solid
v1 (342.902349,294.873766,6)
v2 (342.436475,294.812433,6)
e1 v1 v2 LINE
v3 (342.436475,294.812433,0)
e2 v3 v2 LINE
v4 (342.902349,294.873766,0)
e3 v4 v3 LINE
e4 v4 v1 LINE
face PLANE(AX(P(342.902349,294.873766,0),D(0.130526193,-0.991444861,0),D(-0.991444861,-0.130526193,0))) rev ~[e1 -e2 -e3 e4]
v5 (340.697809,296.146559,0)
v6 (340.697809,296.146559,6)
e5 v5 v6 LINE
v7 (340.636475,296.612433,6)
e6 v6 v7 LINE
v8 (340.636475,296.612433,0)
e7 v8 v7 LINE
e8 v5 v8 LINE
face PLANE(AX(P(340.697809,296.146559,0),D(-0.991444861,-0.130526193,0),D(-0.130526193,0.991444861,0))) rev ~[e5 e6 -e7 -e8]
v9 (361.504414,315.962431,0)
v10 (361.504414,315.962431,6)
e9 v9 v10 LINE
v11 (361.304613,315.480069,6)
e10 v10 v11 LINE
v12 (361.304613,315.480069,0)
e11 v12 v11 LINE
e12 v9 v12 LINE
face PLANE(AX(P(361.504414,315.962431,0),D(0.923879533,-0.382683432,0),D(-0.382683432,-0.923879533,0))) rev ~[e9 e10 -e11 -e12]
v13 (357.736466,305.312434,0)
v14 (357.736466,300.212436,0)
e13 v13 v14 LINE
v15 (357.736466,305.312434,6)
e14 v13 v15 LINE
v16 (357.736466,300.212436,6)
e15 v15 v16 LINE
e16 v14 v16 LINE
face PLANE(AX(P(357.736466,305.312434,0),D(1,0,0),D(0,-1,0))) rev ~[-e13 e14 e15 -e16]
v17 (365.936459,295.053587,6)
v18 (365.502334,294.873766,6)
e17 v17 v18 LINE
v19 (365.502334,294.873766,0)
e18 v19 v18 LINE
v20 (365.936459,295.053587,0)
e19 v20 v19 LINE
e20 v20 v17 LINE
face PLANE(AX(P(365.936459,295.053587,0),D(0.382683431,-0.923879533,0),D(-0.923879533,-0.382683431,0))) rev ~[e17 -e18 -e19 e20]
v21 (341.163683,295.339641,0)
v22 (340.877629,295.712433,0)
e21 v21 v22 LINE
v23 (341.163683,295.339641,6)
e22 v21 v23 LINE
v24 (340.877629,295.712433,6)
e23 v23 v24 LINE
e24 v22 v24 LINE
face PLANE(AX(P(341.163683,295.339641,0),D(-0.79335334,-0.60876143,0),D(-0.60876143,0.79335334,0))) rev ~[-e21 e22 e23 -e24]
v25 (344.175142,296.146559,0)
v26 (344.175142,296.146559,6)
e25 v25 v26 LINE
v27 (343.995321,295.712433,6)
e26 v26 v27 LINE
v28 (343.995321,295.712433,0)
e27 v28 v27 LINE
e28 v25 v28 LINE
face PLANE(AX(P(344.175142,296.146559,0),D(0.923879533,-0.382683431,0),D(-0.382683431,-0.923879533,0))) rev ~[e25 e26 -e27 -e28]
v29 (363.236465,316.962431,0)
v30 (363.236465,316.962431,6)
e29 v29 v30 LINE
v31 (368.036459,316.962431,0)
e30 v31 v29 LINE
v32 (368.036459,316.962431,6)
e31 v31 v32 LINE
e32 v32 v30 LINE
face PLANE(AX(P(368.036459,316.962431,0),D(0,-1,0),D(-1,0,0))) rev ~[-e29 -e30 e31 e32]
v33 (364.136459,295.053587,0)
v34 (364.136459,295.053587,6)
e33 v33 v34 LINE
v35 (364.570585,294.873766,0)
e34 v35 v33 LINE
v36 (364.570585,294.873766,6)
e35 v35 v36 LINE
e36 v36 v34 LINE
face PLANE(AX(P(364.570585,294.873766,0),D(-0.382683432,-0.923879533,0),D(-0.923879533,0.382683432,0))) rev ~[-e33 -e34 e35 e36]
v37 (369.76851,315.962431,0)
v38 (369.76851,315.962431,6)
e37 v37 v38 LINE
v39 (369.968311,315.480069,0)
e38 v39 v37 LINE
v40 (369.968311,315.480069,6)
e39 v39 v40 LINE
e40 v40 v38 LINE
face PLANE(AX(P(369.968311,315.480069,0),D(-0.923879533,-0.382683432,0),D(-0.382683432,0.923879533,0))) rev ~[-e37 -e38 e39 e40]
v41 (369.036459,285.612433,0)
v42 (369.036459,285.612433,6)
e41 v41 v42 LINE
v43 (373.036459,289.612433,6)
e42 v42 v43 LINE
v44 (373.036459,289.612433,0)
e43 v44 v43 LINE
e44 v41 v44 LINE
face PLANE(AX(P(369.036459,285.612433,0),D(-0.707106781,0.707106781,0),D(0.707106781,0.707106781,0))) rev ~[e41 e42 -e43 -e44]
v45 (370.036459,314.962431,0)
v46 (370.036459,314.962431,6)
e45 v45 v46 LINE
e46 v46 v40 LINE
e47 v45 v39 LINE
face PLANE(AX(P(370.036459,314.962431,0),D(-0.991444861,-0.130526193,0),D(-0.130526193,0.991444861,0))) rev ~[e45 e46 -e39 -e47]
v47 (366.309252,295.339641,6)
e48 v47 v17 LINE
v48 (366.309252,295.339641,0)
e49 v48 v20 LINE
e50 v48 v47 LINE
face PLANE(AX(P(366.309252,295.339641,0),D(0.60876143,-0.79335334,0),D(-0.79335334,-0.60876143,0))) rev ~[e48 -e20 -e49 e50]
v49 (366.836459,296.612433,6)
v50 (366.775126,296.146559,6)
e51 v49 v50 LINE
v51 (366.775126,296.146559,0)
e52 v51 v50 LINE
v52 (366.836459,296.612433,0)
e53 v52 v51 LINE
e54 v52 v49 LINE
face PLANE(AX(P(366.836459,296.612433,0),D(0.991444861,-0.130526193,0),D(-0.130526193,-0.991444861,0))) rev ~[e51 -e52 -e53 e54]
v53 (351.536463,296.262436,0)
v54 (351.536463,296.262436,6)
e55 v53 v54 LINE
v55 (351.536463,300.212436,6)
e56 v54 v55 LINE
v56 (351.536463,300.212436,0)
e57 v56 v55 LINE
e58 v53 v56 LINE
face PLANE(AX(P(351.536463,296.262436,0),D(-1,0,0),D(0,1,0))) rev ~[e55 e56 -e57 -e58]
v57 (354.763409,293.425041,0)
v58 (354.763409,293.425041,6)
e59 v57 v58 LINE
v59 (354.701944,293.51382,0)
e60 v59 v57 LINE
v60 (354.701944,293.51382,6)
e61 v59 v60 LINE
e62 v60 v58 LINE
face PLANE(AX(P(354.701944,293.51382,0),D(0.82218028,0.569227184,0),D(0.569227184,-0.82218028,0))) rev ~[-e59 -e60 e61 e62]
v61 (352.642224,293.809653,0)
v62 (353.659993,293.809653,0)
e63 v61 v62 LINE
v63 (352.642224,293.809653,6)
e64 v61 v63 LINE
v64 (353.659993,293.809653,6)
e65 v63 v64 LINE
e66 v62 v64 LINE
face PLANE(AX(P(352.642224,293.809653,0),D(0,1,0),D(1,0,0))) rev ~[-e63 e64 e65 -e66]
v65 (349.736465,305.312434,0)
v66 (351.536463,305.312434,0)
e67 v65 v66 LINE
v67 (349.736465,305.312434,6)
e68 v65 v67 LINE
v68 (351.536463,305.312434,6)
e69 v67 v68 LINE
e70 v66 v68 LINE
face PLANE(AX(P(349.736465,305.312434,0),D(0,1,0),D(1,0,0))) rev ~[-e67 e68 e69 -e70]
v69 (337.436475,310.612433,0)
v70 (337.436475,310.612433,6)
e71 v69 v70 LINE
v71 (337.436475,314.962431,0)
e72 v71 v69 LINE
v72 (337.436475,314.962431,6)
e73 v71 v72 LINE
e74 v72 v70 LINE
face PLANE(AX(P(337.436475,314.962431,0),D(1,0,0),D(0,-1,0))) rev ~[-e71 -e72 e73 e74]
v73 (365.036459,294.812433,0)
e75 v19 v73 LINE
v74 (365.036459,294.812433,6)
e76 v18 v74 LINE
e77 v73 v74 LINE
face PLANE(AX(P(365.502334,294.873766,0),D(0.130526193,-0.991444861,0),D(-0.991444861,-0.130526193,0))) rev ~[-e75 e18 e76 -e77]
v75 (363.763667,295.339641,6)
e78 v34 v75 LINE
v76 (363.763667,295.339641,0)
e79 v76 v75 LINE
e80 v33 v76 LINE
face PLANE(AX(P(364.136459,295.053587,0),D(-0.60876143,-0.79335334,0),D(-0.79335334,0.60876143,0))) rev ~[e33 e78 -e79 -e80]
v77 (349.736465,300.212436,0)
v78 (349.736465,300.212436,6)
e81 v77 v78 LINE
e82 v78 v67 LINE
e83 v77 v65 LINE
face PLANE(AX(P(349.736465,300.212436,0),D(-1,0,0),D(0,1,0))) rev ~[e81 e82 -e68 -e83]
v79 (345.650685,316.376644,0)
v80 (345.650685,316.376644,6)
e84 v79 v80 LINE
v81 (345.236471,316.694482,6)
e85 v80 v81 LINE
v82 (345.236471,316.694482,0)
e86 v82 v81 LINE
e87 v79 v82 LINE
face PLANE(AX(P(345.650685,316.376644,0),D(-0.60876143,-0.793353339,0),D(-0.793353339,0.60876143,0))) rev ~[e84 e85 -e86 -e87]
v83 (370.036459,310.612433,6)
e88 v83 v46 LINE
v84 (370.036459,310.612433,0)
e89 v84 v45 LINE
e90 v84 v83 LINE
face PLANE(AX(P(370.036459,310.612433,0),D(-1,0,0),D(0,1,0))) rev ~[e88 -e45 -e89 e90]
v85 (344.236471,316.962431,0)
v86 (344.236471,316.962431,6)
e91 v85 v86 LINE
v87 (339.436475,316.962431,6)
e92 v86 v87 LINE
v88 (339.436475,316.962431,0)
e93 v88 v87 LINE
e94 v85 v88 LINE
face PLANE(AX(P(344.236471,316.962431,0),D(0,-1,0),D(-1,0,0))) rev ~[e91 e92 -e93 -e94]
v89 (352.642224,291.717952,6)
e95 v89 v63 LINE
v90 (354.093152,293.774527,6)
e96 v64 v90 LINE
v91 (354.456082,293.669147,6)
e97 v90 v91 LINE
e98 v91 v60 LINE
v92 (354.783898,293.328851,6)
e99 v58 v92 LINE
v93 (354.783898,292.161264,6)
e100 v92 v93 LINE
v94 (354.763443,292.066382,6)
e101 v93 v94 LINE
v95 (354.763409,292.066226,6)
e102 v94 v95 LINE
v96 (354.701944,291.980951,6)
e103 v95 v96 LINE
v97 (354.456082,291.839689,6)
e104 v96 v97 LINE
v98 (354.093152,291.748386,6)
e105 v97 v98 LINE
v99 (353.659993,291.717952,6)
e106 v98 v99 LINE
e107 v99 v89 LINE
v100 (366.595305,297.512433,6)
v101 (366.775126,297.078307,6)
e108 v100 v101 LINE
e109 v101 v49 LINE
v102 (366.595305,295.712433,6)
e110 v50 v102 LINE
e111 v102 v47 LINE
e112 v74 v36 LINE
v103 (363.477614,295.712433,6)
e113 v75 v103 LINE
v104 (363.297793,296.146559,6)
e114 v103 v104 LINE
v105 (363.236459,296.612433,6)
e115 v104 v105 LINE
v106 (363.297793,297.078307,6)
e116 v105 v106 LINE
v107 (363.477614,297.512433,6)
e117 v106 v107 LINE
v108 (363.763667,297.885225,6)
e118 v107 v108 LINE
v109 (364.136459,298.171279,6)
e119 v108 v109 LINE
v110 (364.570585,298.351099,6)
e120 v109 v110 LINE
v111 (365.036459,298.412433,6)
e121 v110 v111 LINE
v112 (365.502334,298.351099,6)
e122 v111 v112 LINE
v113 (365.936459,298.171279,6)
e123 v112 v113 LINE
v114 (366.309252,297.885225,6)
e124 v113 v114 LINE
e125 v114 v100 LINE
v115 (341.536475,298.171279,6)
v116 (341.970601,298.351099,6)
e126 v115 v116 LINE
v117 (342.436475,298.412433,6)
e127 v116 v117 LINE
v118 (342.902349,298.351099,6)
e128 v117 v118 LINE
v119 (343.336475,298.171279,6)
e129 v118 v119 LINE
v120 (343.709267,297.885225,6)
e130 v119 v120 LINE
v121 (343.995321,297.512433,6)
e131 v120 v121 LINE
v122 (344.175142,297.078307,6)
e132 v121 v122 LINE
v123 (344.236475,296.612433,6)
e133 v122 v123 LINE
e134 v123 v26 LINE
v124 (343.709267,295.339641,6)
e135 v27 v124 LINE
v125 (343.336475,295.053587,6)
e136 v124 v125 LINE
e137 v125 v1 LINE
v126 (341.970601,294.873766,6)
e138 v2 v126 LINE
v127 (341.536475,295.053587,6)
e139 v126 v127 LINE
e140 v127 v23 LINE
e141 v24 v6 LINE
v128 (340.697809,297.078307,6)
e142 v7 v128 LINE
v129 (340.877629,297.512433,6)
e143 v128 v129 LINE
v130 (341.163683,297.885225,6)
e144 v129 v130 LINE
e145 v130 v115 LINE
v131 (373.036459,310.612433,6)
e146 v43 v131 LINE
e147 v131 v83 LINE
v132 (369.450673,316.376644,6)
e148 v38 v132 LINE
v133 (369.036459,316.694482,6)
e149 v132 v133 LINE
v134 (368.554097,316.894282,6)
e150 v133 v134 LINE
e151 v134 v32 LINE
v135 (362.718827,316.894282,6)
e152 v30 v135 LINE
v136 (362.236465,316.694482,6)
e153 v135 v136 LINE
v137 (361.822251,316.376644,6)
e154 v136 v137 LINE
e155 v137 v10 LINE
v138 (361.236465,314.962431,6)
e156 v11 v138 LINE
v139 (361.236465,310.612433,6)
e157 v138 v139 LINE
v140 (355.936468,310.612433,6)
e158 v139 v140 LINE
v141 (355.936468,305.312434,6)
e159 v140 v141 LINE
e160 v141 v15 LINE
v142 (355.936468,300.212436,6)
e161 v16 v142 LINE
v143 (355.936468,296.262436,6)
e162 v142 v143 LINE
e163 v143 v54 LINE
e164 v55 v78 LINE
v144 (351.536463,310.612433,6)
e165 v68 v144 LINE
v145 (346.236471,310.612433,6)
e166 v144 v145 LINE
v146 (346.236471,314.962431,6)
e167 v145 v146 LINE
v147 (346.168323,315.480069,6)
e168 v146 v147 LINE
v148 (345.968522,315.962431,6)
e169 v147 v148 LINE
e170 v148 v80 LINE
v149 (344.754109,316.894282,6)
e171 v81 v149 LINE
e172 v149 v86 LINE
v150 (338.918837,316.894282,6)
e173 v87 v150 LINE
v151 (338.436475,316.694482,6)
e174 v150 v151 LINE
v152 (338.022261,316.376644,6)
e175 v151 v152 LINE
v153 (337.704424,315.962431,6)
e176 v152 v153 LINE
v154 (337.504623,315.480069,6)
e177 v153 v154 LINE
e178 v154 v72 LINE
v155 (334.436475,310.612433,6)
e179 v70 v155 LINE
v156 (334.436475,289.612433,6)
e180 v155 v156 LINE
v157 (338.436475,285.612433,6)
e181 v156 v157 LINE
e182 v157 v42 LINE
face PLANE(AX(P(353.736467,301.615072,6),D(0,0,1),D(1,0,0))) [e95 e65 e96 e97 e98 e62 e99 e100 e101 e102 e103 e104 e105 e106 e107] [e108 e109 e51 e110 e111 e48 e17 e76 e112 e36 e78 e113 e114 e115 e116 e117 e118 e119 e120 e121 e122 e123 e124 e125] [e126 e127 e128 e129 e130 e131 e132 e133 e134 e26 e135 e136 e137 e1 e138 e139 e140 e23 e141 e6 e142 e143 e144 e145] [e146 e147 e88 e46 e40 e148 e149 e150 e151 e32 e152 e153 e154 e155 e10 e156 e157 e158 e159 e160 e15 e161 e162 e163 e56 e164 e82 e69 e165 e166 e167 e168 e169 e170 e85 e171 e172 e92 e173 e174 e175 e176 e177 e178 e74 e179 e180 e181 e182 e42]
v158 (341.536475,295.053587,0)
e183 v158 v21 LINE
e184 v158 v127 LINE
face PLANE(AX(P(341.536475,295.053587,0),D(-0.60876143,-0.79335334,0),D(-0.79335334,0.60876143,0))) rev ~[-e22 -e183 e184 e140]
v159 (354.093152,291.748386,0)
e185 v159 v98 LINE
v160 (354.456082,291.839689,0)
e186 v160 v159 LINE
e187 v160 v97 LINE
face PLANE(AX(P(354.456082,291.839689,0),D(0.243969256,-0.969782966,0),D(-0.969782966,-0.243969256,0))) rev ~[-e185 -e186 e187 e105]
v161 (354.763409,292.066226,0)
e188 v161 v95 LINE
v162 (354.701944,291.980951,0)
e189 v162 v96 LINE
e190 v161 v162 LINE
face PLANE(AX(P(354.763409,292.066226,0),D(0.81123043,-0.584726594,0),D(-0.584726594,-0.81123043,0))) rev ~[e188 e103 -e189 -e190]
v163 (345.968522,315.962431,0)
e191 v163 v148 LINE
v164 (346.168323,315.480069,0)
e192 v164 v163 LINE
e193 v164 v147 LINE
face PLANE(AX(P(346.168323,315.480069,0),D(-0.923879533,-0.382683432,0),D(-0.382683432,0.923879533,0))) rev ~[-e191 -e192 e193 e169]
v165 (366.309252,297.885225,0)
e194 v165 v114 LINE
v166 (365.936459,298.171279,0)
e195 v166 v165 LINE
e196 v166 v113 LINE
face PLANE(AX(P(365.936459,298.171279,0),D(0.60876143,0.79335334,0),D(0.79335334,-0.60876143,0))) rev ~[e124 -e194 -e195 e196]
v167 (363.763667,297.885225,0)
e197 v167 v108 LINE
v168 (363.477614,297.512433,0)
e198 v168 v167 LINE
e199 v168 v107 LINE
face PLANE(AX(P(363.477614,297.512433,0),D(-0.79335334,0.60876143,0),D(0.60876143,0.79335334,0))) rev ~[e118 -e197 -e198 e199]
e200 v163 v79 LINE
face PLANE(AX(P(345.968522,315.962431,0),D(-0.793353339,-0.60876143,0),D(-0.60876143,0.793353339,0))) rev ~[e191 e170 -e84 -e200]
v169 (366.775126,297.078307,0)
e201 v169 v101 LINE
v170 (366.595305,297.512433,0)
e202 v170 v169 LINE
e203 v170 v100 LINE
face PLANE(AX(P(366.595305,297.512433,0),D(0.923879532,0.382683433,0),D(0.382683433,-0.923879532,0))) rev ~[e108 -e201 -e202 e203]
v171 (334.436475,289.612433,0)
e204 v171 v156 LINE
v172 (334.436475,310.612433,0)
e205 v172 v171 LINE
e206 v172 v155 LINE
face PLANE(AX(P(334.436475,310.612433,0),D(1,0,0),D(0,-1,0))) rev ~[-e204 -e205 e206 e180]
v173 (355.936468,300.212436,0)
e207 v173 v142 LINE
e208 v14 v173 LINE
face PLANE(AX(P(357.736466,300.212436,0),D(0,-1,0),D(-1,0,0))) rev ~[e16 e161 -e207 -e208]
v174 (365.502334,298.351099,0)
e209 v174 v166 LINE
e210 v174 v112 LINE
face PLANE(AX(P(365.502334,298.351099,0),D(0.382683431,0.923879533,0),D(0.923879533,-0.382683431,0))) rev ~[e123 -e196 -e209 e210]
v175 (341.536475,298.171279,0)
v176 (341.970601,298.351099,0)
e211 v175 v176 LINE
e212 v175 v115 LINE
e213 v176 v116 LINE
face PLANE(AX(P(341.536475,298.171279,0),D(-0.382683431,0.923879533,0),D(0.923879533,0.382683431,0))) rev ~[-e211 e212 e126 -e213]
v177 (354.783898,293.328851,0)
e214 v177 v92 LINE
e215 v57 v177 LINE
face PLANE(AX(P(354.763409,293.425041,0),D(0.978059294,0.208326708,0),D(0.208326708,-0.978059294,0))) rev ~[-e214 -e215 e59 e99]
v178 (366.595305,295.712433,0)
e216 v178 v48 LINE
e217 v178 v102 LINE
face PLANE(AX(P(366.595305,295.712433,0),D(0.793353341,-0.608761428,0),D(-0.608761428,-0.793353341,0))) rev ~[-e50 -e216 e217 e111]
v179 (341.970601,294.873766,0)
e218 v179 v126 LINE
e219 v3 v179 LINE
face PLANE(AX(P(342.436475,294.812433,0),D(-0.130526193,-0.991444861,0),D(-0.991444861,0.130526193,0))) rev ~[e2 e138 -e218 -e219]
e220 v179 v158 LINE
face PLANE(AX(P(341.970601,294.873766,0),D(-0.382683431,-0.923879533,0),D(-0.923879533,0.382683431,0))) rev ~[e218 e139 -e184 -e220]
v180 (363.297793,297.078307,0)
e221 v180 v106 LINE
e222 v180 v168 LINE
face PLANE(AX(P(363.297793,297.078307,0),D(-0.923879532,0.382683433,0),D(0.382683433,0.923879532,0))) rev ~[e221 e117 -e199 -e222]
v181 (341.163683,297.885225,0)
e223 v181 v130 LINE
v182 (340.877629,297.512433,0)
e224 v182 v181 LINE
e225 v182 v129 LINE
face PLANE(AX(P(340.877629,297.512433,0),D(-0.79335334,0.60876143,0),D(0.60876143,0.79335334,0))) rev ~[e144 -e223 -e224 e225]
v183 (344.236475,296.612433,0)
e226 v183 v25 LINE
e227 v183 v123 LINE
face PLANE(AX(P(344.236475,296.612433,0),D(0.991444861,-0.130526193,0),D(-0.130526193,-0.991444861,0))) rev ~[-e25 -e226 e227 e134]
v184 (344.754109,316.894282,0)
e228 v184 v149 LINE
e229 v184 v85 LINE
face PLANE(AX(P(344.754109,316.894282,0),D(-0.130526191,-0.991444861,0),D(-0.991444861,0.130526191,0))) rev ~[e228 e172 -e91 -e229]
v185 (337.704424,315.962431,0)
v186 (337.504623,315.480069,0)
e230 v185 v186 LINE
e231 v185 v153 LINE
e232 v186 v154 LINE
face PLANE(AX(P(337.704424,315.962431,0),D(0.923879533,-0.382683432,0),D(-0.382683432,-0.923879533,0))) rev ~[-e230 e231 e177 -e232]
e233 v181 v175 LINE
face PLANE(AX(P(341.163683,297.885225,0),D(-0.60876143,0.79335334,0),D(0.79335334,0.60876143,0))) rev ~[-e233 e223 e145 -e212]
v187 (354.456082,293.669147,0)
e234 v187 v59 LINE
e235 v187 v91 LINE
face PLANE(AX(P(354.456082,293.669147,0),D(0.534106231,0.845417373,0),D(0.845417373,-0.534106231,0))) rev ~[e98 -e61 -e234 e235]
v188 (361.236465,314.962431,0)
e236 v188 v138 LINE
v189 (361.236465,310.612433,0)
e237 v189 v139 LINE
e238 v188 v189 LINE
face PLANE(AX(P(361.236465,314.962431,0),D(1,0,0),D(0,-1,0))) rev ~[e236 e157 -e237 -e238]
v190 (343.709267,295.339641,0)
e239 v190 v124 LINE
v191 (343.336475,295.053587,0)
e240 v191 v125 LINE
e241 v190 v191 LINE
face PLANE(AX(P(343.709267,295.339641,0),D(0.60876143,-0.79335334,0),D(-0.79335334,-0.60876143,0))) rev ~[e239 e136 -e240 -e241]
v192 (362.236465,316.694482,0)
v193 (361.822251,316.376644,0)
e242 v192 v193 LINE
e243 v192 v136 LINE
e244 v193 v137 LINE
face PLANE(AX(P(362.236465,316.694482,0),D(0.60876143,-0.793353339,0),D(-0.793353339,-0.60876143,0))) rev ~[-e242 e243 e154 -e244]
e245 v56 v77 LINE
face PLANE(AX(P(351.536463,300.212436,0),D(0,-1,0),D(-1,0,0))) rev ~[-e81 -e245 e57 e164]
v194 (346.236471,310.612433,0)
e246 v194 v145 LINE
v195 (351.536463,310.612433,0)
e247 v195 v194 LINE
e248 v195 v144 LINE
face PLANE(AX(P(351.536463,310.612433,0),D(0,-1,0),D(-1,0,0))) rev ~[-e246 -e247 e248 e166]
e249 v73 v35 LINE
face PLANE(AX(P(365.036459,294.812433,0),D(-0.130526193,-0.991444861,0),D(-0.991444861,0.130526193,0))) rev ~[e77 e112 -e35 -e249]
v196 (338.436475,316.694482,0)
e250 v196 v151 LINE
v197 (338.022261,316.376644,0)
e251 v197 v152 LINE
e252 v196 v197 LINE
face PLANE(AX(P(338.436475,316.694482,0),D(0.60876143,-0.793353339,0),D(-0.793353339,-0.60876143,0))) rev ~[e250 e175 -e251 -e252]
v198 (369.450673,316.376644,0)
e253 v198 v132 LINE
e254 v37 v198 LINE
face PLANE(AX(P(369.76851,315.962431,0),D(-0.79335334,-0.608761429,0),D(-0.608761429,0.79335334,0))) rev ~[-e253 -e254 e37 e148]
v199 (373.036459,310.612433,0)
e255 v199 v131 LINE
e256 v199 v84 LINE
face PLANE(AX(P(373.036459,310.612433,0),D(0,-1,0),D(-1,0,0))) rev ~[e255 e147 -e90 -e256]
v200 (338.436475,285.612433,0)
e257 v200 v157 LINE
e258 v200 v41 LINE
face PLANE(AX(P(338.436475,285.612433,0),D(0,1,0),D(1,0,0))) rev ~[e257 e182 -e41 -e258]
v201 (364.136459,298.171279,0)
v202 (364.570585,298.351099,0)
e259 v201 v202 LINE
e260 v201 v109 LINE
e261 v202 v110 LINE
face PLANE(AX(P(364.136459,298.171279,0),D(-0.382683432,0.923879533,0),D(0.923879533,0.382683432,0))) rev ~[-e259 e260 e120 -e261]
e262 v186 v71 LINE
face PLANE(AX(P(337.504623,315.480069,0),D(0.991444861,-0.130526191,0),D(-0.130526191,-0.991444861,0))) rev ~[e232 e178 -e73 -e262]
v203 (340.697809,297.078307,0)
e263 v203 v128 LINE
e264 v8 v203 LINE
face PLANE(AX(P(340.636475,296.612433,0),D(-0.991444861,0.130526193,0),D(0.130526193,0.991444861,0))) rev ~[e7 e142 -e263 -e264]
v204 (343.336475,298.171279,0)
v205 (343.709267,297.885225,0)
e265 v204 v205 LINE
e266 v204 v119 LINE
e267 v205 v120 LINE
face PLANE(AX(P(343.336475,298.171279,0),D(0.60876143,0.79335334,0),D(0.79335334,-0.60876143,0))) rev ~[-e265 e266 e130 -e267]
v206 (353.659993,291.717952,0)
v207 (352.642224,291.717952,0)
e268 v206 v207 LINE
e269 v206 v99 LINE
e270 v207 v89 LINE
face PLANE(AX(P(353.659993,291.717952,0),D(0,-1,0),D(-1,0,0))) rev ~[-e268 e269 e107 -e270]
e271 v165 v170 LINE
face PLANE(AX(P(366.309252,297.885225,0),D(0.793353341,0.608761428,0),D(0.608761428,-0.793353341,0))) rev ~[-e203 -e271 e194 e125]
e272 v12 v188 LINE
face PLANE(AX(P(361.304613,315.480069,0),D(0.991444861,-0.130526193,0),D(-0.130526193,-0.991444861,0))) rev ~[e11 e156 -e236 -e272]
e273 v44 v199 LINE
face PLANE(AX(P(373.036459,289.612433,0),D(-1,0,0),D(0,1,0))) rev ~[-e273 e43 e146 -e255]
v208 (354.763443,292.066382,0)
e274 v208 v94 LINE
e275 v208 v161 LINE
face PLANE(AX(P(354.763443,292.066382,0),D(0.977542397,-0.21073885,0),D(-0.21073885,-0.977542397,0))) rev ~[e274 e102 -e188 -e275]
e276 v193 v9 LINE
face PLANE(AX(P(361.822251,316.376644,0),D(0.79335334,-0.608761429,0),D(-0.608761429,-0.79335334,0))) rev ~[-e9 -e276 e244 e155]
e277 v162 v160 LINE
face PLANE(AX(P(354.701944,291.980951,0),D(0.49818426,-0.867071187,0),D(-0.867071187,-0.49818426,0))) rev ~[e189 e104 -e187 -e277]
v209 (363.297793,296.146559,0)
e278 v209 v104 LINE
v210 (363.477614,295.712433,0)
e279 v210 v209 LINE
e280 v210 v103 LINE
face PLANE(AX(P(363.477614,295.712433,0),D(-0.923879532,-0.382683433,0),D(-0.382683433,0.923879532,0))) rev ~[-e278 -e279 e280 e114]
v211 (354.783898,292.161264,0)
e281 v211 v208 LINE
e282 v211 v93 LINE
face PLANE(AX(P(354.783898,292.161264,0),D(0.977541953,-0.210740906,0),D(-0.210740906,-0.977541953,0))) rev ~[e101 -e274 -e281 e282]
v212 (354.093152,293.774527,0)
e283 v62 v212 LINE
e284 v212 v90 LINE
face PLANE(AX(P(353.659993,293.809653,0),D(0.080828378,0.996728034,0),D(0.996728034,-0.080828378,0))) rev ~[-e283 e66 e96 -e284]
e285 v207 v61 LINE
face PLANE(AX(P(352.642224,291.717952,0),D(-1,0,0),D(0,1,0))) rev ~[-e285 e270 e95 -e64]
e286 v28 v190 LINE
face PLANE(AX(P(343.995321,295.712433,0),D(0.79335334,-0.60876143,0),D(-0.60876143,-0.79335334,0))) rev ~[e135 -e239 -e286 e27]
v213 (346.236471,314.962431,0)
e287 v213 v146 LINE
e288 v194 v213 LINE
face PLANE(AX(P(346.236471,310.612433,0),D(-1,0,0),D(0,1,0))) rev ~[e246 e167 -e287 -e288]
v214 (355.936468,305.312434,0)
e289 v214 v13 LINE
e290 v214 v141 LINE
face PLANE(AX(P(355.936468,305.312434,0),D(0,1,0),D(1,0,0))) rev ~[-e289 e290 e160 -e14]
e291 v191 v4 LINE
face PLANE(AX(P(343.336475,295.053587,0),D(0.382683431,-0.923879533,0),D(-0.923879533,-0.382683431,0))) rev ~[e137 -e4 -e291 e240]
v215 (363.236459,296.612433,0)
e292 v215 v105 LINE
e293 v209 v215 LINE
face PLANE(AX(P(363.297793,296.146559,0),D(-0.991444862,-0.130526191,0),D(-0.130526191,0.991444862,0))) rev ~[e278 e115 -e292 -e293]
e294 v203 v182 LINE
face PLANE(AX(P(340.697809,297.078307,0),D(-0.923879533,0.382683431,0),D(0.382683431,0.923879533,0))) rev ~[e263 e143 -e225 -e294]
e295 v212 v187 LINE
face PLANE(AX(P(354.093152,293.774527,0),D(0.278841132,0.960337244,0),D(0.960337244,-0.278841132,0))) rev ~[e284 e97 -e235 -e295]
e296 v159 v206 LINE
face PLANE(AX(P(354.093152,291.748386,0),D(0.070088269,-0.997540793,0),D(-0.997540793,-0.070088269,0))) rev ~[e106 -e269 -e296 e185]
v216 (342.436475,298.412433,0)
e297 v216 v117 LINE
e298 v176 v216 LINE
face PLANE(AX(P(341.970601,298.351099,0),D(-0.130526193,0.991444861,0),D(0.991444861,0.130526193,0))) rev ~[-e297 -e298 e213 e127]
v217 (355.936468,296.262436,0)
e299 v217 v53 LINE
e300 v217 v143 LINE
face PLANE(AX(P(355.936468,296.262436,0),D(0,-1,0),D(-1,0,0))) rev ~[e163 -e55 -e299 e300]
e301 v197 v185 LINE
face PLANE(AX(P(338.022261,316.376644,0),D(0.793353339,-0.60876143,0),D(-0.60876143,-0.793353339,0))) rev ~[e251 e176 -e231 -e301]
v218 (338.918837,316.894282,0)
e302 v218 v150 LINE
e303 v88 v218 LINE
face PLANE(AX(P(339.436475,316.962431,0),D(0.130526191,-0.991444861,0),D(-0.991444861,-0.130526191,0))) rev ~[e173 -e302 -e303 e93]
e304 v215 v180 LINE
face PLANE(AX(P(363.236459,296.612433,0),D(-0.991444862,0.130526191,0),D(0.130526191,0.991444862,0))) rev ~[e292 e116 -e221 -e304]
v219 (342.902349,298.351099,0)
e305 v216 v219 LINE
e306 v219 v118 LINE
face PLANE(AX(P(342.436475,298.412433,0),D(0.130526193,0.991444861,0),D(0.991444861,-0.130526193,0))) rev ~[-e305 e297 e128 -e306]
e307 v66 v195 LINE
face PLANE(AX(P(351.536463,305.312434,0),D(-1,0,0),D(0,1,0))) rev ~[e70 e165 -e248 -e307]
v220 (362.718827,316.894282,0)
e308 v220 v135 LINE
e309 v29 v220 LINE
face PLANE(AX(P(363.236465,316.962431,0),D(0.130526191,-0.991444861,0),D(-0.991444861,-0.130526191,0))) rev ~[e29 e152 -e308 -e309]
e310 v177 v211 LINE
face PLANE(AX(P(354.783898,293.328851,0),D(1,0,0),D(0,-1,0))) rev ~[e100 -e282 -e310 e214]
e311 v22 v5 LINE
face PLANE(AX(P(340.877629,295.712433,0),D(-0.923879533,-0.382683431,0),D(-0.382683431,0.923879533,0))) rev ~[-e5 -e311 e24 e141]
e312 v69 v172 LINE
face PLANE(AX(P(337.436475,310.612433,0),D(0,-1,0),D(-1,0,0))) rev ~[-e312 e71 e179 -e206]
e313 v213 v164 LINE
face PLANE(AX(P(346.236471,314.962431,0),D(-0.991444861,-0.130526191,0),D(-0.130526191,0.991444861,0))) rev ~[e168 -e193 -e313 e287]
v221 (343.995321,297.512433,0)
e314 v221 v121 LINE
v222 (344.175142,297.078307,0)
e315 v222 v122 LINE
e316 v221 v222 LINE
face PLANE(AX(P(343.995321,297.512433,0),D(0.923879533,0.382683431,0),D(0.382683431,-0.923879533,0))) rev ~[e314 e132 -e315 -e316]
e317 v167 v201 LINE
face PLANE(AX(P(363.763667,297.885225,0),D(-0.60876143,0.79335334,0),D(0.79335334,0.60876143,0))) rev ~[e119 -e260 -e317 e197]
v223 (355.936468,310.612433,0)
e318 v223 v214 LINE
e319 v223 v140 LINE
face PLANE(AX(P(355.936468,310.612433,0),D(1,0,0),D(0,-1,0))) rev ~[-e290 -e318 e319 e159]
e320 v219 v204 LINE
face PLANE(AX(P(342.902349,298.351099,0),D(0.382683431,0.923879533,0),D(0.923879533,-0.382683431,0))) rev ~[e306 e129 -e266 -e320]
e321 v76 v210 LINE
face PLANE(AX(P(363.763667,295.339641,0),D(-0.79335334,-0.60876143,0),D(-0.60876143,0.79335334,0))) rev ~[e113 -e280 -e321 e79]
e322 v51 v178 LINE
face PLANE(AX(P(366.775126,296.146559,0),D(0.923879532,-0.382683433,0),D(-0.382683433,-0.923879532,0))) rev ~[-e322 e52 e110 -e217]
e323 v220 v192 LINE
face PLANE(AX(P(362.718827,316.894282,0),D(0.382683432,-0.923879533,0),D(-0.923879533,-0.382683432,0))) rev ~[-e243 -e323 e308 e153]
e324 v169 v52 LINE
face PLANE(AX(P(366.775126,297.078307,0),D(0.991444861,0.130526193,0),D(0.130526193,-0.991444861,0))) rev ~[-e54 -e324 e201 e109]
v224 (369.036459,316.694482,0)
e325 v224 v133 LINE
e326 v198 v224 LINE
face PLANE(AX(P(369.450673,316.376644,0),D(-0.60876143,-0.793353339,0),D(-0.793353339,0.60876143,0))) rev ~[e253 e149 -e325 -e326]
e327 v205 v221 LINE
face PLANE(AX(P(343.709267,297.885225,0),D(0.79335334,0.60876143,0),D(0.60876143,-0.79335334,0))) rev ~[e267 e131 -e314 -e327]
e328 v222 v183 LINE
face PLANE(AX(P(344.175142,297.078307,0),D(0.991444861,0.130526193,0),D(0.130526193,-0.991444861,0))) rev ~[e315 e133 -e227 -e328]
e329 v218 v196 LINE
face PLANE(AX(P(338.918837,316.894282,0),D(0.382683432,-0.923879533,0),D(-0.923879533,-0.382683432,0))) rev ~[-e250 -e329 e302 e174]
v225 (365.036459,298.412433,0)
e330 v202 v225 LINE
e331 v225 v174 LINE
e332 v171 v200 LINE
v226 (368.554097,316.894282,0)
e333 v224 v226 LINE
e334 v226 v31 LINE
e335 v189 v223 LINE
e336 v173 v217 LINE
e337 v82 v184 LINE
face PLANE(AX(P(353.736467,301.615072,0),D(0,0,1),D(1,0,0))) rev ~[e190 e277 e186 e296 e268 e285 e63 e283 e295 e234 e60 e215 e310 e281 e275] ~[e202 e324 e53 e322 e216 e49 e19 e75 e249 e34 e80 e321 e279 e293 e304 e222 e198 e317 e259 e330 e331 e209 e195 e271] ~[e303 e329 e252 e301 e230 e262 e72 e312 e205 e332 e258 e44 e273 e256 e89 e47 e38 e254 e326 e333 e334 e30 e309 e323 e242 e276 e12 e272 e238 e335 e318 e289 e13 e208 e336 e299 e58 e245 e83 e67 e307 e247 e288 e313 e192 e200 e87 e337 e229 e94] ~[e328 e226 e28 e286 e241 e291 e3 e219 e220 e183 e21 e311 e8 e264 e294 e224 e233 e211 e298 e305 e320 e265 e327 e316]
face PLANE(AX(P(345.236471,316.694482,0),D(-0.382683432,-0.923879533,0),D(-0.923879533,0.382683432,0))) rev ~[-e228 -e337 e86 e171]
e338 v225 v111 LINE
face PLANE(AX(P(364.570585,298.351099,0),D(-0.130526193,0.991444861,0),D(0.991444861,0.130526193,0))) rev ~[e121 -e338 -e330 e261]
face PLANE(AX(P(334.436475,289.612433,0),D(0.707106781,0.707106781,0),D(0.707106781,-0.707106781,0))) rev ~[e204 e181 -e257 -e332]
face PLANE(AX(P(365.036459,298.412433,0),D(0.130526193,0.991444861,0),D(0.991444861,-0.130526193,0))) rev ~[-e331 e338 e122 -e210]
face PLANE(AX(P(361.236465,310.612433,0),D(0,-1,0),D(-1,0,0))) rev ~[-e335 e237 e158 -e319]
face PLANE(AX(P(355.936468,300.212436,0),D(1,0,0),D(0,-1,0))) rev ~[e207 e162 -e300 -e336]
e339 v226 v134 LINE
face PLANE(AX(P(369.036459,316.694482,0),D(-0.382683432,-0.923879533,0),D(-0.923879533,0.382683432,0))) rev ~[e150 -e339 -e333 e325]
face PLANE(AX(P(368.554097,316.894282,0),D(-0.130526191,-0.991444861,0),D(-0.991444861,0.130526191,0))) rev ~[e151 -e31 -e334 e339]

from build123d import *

# Parameters (mm, degrees)
BOSS_EXTRUDE1_DEPTH = 6


with BuildPart() as part:
    # Sketch1 → Boss-Extrude1 (new body)
    with BuildSketch(Plane.XY):
        Polygon((362.236464916, 316.694481551), (361.822251354, 316.376644305), (361.504414109, 315.962430743), (361.304613264, 315.480068833), (361.236464916, 314.962430743), (361.236464916, 310.612432852), (355.936467662, 310.612432852), (355.936467662, 305.31243403), (357.736465893, 305.31243403), (357.736465893, 300.212436266), (355.936467662, 300.212436266), (355.936467662, 296.262436443), (351.53646299, 296.262436443), (351.53646299, 300.212436266), (349.736464758, 300.212436266), (349.736464758, 305.31243403), (351.53646299, 305.31243403), (351.53646299, 310.612432852), (346.236470983, 310.612432852), (346.236470983, 314.962430743), (346.168322636, 315.480068833), (345.968521791, 315.962430743), (345.650684545, 316.376644305), (345.236470983, 316.694481551), (344.754109073, 316.894282396), (344.236470983, 316.962430743), (339.436475018, 316.962430743), (338.918836928, 316.894282396), (338.436475018, 316.694481551), (338.022261456, 316.376644305), (337.70442421, 315.962430743), (337.504623365, 315.480068833), (337.436475018, 314.962430743), (337.436475018, 310.612432852), (334.436475018, 310.612432852), (334.436475018, 289.612432852), (338.436475018, 285.612432852), (369.036459359, 285.612432852), (373.036459359, 289.612432852), (373.036459359, 310.612432852), (370.036459359, 310.612432852), (370.036459359, 314.962430743), (369.968311011, 315.480068833), (369.768510166, 315.962430743), (369.450672921, 316.376644305), (369.036459359, 316.694481551), (368.554097449, 316.894282396), (368.036459359, 316.962430743), (363.236464916, 316.962430743), (362.718826826, 316.894282396), align=None)
        Polygon((354.093152218, 291.74838599), (353.659993157, 291.717951777), (352.642224483, 291.717951777), (352.642224483, 291.718142326), (352.642224483, 293.809653378), (353.659993157, 293.809653378), (354.093152218, 293.774526901), (354.456082144, 293.669147471), (354.701943662, 293.513820442), (354.763409042, 293.425041085), (354.783897502, 293.328851168), (354.783897502, 292.161406427), (354.783897502, 292.161263515), (354.763442776, 292.066382302), (354.763409042, 292.066225822), (354.701943662, 291.980950777), (354.456082144, 291.839688629), align=None, mode=Mode.SUBTRACT)
        Polygon((340.877629291, 297.512432852), (341.163682812, 297.885225058), (341.536475018, 298.171278579), (341.970600737, 298.351099339), (342.436475018, 298.412432852), (342.902349299, 298.351099339), (343.336475018, 298.171278579), (343.709267224, 297.885225058), (343.995320745, 297.512432852), (344.175141505, 297.078307133), (344.236475018, 296.612432852), (344.175141505, 296.146558571), (343.995320745, 295.712432852), (343.709267224, 295.339640646), (343.336475018, 295.053587125), (342.902349299, 294.873766365), (342.436475018, 294.812432852), (341.970600737, 294.873766365), (341.536475018, 295.053587125), (341.163682812, 295.339640646), (340.877629291, 295.712432852), (340.697808531, 296.146558571), (340.636475018, 296.612432852), (340.697808531, 297.078307133), align=None, mode=Mode.SUBTRACT)
        Polygon((363.297792871, 296.146558571), (363.236459359, 296.612432852), (363.297792871, 297.078307133), (363.477613632, 297.512432852), (363.763667153, 297.885225058), (364.136459359, 298.171278579), (364.570585077, 298.351099339), (365.036459359, 298.412432852), (365.50233364, 298.351099339), (365.936459359, 298.171278579), (366.309251565, 297.885225058), (366.595305085, 297.512432852), (366.775125846, 297.078307133), (366.836459359, 296.612432852), (366.775125846, 296.146558571), (366.595305085, 295.712432852), (366.309251565, 295.339640646), (365.936459359, 295.053587125), (365.50233364, 294.873766365), (365.036459359, 294.812432852), (364.570585077, 294.873766365), (364.136459359, 295.053587125), (363.763667153, 295.339640646), (363.477613632, 295.712432852), align=None, mode=Mode.SUBTRACT)
    extrude(amount=BOSS_EXTRUDE1_DEPTH)


solid = part.part
